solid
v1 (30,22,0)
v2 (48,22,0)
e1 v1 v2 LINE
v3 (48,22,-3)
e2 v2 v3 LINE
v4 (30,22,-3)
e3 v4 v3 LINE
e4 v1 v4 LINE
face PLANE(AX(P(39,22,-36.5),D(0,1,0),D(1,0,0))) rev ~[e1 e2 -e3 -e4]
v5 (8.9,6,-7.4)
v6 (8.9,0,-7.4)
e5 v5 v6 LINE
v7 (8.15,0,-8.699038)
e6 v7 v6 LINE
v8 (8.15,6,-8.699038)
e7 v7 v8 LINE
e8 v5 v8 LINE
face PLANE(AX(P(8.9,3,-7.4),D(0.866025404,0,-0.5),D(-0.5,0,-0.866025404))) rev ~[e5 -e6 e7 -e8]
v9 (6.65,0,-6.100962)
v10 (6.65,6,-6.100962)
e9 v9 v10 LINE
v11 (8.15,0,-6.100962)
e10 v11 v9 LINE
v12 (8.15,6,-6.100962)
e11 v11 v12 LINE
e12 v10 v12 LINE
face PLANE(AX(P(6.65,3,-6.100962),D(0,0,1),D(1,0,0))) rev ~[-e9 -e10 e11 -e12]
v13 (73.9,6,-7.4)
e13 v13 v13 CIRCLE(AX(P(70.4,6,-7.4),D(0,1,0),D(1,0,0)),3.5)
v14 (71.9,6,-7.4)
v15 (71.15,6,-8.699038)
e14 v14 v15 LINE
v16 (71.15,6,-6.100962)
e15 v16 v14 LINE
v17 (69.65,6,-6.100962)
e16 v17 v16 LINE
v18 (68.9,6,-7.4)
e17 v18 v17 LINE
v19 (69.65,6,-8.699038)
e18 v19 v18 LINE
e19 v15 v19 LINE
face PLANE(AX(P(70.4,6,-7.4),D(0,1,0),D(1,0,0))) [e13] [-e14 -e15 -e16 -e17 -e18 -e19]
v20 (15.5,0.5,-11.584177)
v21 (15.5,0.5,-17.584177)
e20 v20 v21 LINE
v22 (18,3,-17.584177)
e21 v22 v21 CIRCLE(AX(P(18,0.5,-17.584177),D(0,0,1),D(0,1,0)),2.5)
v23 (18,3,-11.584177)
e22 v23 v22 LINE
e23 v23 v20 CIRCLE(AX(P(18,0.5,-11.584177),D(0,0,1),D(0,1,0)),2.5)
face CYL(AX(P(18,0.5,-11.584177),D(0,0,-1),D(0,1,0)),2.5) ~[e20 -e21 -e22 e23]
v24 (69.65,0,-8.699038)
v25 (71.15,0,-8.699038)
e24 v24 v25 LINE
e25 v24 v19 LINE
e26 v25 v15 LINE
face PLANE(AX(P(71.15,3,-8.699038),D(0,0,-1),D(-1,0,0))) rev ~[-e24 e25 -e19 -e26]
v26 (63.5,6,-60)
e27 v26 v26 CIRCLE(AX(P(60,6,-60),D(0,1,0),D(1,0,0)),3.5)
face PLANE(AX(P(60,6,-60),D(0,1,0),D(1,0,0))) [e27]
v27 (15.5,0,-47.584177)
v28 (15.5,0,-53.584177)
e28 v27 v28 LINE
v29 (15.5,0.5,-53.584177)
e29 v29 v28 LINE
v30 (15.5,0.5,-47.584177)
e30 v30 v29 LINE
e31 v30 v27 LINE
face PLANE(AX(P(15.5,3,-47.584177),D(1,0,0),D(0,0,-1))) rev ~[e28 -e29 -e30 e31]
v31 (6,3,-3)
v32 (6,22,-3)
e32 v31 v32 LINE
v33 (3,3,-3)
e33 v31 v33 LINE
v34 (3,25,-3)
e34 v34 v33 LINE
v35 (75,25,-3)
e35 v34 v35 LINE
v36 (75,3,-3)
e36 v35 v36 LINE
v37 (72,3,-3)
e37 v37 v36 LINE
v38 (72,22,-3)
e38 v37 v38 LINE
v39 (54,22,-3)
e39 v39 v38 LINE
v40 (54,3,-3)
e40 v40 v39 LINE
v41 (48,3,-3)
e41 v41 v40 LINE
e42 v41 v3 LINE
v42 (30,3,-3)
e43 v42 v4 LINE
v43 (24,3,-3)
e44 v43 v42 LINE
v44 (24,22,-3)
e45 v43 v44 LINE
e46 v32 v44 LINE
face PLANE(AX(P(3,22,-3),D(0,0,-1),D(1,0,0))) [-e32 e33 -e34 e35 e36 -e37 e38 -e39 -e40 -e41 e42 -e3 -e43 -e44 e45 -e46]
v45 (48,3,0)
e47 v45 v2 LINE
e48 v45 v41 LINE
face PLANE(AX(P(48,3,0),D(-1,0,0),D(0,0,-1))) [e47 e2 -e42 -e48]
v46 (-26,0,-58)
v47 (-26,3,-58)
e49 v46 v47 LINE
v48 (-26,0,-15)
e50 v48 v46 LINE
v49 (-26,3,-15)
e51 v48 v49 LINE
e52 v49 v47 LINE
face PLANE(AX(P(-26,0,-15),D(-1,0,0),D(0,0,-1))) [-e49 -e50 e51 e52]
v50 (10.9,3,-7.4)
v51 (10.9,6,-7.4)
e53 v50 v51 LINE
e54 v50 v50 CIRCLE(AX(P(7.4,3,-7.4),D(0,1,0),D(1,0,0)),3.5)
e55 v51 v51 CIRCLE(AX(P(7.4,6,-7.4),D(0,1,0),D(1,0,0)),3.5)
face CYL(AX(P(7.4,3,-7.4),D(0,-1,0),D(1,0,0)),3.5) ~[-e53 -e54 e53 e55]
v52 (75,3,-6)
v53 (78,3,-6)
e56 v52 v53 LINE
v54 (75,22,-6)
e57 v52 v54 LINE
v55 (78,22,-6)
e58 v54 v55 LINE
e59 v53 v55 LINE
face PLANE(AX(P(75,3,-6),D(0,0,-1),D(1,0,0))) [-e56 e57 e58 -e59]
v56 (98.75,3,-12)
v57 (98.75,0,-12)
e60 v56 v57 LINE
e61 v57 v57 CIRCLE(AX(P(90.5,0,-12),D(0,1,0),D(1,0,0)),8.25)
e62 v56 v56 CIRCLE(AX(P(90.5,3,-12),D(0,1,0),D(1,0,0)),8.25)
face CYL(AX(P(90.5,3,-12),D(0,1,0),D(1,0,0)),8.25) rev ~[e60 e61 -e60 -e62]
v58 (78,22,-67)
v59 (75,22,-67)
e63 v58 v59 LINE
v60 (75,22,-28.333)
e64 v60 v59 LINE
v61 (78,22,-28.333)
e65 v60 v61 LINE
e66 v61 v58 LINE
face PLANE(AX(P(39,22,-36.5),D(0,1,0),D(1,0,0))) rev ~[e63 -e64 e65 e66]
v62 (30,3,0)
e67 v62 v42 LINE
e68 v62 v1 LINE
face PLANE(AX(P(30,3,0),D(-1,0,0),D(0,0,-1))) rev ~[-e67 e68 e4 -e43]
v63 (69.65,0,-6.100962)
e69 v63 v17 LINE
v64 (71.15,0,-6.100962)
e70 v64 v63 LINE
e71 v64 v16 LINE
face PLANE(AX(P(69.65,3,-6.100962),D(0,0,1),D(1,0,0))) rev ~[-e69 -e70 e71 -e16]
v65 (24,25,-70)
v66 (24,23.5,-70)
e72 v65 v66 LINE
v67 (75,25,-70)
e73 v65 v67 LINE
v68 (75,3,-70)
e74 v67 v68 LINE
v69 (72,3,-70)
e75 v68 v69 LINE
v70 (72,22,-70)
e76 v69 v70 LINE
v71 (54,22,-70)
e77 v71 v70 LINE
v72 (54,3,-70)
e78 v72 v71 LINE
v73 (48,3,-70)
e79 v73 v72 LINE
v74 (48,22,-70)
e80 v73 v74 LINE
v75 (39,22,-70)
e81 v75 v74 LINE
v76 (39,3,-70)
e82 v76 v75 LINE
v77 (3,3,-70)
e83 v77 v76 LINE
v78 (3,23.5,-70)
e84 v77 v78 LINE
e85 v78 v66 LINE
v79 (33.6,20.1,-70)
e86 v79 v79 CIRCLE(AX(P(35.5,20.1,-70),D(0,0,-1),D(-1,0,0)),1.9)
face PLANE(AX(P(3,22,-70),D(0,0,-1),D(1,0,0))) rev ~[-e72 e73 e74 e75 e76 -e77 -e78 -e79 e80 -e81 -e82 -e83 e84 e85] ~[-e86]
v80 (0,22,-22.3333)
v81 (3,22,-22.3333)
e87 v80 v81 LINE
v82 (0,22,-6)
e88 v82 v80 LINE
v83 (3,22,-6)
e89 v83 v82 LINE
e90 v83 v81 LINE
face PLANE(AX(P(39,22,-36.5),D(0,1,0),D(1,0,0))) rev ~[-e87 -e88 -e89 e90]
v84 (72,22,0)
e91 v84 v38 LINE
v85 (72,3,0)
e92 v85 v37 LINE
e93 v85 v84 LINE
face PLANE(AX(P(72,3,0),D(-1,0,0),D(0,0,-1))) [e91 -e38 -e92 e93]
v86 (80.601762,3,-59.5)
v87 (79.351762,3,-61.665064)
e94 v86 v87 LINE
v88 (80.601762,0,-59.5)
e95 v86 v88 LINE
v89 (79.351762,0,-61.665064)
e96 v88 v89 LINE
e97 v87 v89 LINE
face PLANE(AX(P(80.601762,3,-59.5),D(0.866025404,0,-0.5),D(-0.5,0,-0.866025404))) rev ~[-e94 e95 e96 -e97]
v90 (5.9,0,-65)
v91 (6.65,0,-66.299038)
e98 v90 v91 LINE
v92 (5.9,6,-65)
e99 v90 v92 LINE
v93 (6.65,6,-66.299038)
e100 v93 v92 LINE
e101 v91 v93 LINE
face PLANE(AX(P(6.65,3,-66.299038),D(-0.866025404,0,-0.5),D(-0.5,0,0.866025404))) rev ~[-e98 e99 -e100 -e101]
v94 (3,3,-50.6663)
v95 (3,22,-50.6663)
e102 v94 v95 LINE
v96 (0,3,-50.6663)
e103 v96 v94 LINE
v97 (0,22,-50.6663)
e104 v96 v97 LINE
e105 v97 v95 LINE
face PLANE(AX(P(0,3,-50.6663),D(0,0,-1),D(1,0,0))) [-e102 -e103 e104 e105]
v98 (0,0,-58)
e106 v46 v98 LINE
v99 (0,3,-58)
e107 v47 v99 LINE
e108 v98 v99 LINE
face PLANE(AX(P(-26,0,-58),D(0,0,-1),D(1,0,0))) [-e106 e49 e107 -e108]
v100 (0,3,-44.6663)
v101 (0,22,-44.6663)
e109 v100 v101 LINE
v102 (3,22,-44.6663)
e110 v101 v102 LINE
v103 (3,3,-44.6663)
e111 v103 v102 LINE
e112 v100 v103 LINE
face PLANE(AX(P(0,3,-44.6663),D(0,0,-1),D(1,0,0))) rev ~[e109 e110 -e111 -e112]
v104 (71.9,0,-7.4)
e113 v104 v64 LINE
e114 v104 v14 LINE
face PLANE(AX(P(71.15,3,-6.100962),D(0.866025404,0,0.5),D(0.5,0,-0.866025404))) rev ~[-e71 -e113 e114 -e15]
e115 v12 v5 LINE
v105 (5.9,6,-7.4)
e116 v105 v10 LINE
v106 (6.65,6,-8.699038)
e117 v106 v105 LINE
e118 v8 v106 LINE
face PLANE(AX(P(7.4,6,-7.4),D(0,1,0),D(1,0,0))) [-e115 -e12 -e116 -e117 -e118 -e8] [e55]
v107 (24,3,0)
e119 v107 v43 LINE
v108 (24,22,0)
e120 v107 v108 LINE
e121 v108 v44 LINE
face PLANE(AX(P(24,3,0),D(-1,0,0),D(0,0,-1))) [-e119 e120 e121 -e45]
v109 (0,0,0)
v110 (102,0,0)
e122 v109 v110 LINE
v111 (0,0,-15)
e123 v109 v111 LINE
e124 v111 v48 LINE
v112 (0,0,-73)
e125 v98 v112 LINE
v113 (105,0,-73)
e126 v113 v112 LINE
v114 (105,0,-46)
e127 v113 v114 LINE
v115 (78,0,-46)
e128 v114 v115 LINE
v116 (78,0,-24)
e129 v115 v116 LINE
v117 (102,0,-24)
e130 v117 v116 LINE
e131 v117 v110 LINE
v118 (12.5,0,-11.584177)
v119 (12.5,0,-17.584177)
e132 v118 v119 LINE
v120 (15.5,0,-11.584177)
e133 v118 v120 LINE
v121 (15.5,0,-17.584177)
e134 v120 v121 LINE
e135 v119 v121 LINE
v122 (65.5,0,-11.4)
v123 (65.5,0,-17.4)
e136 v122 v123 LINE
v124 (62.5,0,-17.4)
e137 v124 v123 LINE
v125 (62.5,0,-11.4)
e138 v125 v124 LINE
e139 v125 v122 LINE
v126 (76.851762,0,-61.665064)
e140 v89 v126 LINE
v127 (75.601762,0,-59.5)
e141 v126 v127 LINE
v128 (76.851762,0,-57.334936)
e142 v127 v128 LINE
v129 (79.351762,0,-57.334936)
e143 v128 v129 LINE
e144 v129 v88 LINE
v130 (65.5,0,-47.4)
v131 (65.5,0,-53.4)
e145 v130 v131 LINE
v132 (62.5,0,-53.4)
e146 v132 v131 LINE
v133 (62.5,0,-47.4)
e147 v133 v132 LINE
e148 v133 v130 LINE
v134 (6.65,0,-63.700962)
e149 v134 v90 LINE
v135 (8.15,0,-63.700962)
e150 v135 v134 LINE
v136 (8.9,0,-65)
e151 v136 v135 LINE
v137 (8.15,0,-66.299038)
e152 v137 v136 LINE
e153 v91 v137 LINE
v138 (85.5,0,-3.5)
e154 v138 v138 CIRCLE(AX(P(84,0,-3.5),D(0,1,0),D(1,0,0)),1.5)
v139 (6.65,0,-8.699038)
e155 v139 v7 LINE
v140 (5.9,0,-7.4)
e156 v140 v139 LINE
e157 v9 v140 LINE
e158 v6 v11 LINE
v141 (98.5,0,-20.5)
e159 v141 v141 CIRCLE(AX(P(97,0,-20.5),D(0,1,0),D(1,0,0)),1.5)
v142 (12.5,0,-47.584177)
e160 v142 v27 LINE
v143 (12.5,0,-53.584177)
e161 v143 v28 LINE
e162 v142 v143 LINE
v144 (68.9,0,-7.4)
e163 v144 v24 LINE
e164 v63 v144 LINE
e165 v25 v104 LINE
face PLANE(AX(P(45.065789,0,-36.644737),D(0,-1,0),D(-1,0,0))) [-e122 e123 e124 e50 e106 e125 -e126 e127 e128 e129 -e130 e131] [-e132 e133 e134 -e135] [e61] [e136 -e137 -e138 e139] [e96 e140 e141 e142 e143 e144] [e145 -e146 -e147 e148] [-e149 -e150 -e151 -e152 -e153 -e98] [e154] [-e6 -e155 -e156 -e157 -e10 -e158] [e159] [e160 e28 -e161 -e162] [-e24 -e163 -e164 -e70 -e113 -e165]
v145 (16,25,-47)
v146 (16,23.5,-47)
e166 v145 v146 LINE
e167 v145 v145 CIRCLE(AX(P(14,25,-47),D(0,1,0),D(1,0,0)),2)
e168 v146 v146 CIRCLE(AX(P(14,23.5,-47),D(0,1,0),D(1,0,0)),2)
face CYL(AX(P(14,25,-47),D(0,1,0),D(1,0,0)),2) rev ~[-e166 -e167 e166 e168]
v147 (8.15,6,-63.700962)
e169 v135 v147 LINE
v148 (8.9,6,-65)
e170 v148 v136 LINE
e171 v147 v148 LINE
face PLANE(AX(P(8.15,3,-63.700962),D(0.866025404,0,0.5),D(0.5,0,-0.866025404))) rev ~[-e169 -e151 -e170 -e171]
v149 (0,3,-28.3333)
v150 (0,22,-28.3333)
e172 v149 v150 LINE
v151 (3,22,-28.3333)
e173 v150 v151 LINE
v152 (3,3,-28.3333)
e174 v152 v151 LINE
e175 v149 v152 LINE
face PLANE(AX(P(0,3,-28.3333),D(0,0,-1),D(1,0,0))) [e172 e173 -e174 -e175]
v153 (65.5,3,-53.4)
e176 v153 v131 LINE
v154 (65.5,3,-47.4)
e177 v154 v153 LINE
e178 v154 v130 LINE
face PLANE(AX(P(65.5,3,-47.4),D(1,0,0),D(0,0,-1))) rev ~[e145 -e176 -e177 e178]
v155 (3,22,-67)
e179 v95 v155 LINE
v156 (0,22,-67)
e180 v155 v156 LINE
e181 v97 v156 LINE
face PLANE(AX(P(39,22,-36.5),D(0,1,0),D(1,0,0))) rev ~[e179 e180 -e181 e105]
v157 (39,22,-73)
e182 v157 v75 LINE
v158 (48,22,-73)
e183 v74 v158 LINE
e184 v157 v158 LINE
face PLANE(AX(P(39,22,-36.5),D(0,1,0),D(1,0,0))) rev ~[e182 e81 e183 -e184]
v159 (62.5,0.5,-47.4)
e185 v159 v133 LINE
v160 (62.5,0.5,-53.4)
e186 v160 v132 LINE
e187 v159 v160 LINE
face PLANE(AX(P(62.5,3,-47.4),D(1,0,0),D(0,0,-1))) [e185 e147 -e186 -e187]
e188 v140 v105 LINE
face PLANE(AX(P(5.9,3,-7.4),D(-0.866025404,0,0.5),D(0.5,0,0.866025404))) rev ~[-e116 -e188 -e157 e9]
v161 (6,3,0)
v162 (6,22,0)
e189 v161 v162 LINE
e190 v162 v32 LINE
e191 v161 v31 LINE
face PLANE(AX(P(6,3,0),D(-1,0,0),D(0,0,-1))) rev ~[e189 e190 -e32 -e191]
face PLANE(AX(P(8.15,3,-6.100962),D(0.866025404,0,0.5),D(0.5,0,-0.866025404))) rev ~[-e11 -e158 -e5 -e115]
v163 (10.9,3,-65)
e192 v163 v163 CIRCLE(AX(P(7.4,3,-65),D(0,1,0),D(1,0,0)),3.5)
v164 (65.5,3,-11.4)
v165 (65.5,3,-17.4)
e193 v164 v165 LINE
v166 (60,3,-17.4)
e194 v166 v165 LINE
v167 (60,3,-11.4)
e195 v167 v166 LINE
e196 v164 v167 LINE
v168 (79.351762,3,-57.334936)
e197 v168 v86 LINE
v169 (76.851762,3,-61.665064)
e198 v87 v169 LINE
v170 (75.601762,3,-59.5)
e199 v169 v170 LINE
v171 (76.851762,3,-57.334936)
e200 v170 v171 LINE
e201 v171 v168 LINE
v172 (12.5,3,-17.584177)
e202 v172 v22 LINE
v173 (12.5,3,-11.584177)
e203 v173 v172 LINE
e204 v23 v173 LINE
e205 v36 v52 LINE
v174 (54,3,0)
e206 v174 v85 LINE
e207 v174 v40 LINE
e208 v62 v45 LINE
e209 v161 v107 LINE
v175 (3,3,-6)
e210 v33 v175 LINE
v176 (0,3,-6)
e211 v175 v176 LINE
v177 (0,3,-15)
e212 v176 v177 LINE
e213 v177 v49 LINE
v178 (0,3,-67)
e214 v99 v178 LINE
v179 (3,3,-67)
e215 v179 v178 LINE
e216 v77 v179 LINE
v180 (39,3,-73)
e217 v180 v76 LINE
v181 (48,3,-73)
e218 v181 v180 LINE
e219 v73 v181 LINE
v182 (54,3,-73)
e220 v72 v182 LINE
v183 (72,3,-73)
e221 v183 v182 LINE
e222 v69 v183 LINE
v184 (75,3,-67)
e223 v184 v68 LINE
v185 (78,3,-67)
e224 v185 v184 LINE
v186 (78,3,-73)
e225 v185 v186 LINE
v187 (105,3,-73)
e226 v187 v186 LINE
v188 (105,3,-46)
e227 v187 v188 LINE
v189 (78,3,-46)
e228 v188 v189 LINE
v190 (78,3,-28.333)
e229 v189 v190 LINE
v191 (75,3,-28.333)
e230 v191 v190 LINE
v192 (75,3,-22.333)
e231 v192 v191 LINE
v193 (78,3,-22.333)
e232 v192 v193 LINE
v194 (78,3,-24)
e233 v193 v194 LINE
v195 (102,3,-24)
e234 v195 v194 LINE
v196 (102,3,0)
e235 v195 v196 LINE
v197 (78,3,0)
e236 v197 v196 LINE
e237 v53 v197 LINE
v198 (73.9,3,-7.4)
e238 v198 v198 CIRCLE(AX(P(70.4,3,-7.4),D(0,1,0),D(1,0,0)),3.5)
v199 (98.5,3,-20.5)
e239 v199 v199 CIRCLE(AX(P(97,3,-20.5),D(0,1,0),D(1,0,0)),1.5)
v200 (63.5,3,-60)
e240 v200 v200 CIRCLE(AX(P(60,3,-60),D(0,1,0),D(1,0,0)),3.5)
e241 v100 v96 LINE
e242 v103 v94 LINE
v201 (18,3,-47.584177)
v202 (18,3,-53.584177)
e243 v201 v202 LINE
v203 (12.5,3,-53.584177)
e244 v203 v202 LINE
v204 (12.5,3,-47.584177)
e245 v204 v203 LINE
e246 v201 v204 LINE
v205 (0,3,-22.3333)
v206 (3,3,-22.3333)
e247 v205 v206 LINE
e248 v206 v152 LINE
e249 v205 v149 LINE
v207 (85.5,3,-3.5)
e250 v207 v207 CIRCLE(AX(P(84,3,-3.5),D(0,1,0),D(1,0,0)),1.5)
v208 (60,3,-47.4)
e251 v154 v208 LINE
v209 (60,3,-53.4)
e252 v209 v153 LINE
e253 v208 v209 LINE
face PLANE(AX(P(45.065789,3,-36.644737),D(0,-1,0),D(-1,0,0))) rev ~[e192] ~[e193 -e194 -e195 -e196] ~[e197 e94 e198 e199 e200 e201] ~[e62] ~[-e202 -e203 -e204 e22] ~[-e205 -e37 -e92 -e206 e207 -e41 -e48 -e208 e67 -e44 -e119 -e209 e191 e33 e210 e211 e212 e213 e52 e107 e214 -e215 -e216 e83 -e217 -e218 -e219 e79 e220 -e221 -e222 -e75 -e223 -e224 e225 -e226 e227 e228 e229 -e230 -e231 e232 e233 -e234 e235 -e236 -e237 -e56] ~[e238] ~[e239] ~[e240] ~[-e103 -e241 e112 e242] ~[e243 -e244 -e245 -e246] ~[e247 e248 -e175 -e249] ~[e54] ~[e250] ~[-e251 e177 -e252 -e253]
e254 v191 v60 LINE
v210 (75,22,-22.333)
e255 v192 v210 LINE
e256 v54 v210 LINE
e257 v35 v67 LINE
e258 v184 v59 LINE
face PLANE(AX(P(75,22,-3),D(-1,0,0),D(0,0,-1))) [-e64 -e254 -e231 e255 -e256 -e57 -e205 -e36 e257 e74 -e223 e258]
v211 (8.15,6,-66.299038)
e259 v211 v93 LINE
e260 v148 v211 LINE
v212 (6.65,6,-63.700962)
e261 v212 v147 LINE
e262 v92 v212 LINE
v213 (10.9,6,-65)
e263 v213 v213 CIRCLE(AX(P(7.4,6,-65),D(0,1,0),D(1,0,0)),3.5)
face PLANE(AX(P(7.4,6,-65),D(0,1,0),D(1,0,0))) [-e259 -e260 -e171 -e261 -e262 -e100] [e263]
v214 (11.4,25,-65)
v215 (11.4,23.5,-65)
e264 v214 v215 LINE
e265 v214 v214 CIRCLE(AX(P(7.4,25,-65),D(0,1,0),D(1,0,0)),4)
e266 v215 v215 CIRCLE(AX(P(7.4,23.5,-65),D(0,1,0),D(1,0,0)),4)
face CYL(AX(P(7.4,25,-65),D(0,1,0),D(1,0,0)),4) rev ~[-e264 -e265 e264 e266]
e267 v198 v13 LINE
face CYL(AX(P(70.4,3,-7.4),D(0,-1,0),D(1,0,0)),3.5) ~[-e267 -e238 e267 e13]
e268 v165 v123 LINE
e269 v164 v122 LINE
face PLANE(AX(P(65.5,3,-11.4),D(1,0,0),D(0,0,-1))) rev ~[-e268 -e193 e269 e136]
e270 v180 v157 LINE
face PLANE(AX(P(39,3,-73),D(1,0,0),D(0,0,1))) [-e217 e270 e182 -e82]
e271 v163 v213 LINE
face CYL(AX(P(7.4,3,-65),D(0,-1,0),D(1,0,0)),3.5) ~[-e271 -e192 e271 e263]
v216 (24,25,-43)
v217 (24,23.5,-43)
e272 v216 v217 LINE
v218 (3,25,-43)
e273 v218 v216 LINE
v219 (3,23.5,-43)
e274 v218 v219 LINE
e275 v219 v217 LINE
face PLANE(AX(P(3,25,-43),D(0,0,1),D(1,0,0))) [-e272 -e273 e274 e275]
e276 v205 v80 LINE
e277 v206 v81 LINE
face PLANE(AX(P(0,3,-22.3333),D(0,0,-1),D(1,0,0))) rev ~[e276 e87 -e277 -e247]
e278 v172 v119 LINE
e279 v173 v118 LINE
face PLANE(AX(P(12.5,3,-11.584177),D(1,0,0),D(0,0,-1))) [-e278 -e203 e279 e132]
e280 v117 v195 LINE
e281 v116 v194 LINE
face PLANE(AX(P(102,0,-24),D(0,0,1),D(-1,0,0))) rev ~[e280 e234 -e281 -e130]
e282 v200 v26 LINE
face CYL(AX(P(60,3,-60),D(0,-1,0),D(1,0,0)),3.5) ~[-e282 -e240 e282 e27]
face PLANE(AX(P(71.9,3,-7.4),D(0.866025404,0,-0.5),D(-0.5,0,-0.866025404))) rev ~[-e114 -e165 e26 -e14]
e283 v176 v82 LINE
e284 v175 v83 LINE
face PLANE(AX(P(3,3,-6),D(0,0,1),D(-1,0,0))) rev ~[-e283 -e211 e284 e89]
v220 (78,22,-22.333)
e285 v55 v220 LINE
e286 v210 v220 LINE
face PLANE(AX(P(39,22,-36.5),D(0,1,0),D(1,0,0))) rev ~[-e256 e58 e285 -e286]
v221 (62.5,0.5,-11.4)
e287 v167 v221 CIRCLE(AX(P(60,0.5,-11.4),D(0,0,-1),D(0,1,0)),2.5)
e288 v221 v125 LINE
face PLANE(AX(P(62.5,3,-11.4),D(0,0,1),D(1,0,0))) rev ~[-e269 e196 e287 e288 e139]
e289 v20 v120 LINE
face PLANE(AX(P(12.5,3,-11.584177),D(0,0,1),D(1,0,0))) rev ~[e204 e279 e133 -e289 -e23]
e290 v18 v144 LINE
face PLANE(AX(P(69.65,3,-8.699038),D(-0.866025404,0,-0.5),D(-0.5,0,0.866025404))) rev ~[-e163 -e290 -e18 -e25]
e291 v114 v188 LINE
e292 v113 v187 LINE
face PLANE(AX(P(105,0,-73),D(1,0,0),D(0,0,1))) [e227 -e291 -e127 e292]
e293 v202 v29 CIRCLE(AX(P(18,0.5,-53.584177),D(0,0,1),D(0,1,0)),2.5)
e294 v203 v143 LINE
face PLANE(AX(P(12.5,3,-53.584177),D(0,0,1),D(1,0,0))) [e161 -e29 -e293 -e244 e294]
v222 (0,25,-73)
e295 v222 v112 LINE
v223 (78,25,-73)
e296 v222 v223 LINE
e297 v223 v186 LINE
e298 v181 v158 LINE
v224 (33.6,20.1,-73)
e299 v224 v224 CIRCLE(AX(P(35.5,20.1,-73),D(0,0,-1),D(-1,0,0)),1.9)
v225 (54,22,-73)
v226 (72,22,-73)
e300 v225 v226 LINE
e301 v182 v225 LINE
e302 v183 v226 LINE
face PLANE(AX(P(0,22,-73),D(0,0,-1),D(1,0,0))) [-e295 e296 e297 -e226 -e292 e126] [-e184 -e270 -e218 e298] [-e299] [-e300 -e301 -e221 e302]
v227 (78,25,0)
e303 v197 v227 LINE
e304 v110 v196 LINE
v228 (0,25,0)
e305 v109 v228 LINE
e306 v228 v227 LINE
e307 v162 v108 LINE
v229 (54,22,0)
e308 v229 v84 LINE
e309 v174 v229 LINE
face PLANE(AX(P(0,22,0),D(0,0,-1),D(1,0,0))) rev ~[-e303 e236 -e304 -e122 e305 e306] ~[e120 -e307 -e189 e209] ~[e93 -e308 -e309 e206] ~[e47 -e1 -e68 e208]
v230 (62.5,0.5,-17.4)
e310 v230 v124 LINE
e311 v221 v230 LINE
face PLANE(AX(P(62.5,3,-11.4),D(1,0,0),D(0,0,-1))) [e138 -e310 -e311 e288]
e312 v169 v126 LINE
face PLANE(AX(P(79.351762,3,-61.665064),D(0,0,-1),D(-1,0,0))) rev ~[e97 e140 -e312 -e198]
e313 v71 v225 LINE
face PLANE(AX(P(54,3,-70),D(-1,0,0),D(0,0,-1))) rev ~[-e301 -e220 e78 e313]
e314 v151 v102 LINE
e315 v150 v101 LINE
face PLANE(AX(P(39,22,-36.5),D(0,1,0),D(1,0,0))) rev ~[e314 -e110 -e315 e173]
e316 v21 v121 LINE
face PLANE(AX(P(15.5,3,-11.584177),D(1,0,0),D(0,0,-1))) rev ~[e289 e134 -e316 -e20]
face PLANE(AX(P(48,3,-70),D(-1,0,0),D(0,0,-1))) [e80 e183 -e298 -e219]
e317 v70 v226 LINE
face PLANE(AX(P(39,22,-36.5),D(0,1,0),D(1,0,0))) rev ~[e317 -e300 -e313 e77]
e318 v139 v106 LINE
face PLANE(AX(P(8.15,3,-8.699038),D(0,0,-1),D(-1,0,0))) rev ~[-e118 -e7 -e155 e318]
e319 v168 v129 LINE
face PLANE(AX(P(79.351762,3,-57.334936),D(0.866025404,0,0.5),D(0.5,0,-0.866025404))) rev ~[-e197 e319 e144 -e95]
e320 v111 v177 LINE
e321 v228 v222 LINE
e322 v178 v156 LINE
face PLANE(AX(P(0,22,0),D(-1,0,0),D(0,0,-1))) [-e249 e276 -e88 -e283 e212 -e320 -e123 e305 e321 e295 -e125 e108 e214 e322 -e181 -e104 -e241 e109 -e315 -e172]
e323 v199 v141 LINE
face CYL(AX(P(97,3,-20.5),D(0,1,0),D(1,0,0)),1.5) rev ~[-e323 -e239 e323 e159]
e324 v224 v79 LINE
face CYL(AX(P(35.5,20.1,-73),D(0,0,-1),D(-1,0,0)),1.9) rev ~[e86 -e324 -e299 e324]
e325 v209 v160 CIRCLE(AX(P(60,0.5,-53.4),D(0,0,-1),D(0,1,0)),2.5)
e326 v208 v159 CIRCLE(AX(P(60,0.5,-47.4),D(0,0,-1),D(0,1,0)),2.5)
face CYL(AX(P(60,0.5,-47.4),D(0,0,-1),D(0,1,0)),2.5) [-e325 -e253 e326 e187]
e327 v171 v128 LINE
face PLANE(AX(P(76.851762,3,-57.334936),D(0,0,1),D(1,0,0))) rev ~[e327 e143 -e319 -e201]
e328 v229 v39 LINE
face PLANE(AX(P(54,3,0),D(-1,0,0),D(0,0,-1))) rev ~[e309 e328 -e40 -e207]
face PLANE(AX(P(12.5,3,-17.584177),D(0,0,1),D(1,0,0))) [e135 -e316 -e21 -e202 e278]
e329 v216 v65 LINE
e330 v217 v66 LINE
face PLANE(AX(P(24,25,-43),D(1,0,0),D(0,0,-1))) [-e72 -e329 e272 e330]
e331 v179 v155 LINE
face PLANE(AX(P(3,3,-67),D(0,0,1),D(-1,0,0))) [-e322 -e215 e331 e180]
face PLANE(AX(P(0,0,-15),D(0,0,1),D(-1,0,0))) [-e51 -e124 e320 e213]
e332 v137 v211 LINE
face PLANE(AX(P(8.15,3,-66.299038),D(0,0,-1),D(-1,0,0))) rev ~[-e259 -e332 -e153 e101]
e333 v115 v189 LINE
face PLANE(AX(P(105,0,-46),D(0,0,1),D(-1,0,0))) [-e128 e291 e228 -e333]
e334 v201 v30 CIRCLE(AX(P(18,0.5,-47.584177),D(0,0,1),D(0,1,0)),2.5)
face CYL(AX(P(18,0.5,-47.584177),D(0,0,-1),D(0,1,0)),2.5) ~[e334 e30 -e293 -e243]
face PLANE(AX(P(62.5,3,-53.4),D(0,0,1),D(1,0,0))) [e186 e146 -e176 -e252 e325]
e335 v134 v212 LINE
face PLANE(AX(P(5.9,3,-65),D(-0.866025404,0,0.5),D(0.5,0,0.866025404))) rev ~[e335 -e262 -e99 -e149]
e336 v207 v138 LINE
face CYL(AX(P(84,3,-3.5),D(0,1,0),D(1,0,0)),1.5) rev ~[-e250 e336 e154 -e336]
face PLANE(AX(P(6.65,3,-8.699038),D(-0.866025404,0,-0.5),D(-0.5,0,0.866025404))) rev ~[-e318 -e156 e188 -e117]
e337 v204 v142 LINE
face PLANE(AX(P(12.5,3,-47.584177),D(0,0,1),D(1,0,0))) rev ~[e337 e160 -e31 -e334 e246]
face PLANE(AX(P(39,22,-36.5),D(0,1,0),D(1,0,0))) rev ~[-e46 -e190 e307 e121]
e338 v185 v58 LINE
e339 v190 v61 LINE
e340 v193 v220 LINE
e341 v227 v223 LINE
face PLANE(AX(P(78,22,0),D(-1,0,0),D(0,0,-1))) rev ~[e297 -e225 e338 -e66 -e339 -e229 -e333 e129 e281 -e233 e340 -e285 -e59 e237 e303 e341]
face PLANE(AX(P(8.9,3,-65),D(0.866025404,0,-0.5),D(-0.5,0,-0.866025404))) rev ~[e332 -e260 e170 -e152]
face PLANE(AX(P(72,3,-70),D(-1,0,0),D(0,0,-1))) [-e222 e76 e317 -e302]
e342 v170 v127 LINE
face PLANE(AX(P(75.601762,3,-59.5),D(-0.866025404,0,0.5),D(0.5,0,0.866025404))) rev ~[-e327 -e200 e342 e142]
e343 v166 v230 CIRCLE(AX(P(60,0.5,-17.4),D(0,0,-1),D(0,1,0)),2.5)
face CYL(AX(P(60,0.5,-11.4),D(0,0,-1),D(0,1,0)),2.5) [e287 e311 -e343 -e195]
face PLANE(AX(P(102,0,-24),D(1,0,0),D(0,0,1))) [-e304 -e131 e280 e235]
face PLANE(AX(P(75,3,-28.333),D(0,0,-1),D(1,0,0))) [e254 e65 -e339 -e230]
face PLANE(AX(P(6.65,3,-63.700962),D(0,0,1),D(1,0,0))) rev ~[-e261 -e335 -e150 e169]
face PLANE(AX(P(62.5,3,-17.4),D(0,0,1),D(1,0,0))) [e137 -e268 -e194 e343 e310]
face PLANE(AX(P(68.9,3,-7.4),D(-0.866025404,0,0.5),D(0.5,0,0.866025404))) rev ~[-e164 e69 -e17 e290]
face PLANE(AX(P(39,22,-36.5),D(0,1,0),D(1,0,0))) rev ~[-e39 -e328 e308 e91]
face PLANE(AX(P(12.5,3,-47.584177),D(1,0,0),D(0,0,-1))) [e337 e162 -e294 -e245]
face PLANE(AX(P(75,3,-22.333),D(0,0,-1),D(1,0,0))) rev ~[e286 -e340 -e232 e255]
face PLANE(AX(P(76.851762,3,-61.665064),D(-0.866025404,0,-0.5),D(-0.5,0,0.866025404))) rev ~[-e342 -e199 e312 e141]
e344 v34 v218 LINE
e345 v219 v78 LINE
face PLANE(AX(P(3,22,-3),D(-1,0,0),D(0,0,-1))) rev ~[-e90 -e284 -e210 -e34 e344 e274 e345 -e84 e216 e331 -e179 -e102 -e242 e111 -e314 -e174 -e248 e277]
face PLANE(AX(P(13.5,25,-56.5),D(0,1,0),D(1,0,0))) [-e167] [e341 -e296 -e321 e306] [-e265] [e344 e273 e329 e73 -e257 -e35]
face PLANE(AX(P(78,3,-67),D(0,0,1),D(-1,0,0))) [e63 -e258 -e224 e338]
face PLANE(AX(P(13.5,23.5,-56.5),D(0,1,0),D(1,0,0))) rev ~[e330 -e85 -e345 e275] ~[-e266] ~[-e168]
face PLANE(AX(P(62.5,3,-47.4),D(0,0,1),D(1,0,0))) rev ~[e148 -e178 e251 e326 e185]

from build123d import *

# Parameters (mm, degrees)
BOSS_EXTRUDE1_DEPTH = 3
SKETCH2_W           = 3
SKETCH2_H           = 6
SKETCH2_W_2         = 6
SKETCH2_H_2         = 3
BOSS_EXTRUDE2_DEPTH = 19
SKETCH3_W           = 78
SKETCH3_H           = 73
SKETCH3_W_2         = 72
SKETCH3_H_2         = 67
BOSS_EXTRUDE3_DEPTH = 3
SKETCH4_R           = 3.5
BOSS_EXTRUDE4_DEPTH = 3
CUT_EXTRUDE1_DEPTH  = 130.761319352
CUT_EXTRUDE2_DEPTH  = 3
SKETCH7_R           = 1.9
CUT_EXTRUDE3_DEPTH  = 3
SKETCH8_W           = 21
SKETCH8_H           = 27
SKETCH8_R           = 2
SKETCH8_R_2         = 4
BOSS_EXTRUDE5_DEPTH = 1.5
SKETCH9_R           = 1.5
SKETCH9_R_2         = 8.25
CUT_EXTRUDE4_DEPTH  = 3
SKETCH10_W          = 3
SKETCH10_H          = 6
CUT_EXTRUDE5_DEPTH  = 3
FILLET1_R           = 2.5


with BuildPart() as part:
    # Sketch1 → Boss-Extrude1 (new body)
    with BuildSketch(Plane(origin=(0, 0, 0), x_dir=(1, 0, 0), z_dir=(0, 1, 0))):
        Polygon((100, 24), (102, 24), (102, 0), (100, 0), (78, 0), (0, 0), (0, 15), (-26, 15), (-26, 58), (0, 58), (0, 73), (78, 73), (105, 73), (105, 46), (78, 46), (78, 24), align=None)
    extrude(amount=BOSS_EXTRUDE1_DEPTH)

    # Sketch2 → Boss-Extrude2 (add)
    with BuildSketch(Plane(origin=(0, 3, 0), x_dir=(1, 0, 0), z_dir=(0, 1, 0))):
        Polygon((0, 0), (3, 0), (6, 0), (6, 3), (3, 3), (3, 6), (0, 6), align=None)
        Polygon((78, 0), (75, 0), (72, 0), (72, 3), (75, 3), (75, 6), (78, 6), align=None)
        with Locations((1.5, 25.3333)):
            Rectangle(SKETCH2_W, SKETCH2_H)
        with Locations((1.5, 47.6663)):
            Rectangle(SKETCH2_W, SKETCH2_H)
        Polygon((0, 73), (3, 73), (6, 73), (36, 73), (39, 73), (39, 70), (36, 70), (17, 70), (3, 70), (3, 67), (0, 67), align=None)
        with Locations((27, 1.5)):
            Rectangle(SKETCH2_W_2, SKETCH2_H_2)
        with Locations((51, 1.5)):
            Rectangle(SKETCH2_W_2, SKETCH2_H_2)
        with Locations((76.5, 25.333)):
            Rectangle(SKETCH2_W, SKETCH2_H)
        Polygon((72, 73), (78, 73), (78, 70), (78, 67), (75, 67), (75, 70), (72, 70), align=None)
        with Locations((51, 71.5)):
            Rectangle(SKETCH2_W_2, SKETCH2_H_2)
    extrude(amount=BOSS_EXTRUDE2_DEPTH)

    # Sketch3 → Boss-Extrude3 (add)
    with BuildSketch(Plane(origin=(0, 22, 0), x_dir=(1, 0, 0), z_dir=(0, 1, 0))):
        with Locations((39, 36.5)):
            Rectangle(SKETCH3_W, SKETCH3_H)
        with Locations((39, 36.5)):
            Rectangle(SKETCH3_W_2, SKETCH3_H_2, mode=Mode.SUBTRACT)
    extrude(amount=BOSS_EXTRUDE3_DEPTH)

    # Sketch4 → Boss-Extrude4 (add)
    # profile 1 of 4: a face of its own
    with BuildSketch(Plane(origin=(0, 3, 0), x_dir=(1, 0, 0), z_dir=(0, 1, 0))):
        with Locations((7.4, 65)):
            Circle(SKETCH4_R)
        Polygon((8.9, 65), (8.15, 66.299038106), (6.65, 66.299038106), (5.9, 65), (6.65, 63.700961894), (8.15, 63.700961894), align=None, mode=Mode.SUBTRACT)
    # profile 2 of 4: a face of its own
    with BuildSketch(Plane(origin=(0, 3, 0), x_dir=(1, 0, 0), z_dir=(0, 1, 0))):
        with Locations((7.4, 7.4)):
            Circle(SKETCH4_R)
        Polygon((8.9, 7.4), (8.15, 8.699038106), (6.65, 8.699038106), (5.9, 7.4), (6.65, 6.100961894), (8.15, 6.100961894), align=None, mode=Mode.SUBTRACT)
    # profile 3 of 4: a face of its own
    with BuildSketch(Plane(origin=(0, 3, 0), x_dir=(1, 0, 0), z_dir=(0, 1, 0))):
        with Locations((70.4, 7.4)):
            Circle(SKETCH4_R)
        Polygon((68.9, 7.4), (69.65, 6.100961894), (71.15, 6.100961894), (71.9, 7.4), (71.15, 8.699038106), (69.65, 8.699038106), align=None, mode=Mode.SUBTRACT)
    # profile 4 of 4: a face of its own
    with BuildSketch(Plane(origin=(0, 3, 0), x_dir=(1, 0, 0), z_dir=(0, 1, 0))):
        with Locations((60, 60)):
            Circle(SKETCH4_R)
    extrude(amount=BOSS_EXTRUDE4_DEPTH)

    # Sketch4<2> → Cut-Extrude1 (cut, through all)
    with BuildSketch(Plane(origin=(0, 3, 0), x_dir=(1, 0, 0), z_dir=(0, 1, 0))):
        Polygon((8.15, 63.700961894), (8.9, 65), (8.15, 66.299038106), (6.65, 66.299038106), (5.9, 65), (6.65, 63.700961894), align=None)
        Polygon((8.15, 6.100961894), (8.9, 7.4), (8.15, 8.699038106), (6.65, 8.699038106), (5.9, 7.4), (6.65, 6.100961894), align=None)
        Polygon((69.65, 8.699038106), (68.9, 7.4), (69.65, 6.100961894), (71.15, 6.100961894), (71.9, 7.4), (71.15, 8.699038106), align=None)
    extrude(amount=-CUT_EXTRUDE1_DEPTH, mode=Mode.SUBTRACT)

    # Sketch5 → Cut-Extrude2 (cut)
    with BuildSketch(Plane(origin=(0, 3, 0), x_dir=(1, 0, 0), z_dir=(0, 1, 0))):
        Polygon((80.601762475, 59.5), (79.351762475, 61.665063509), (76.851762475, 61.665063509), (75.601762475, 59.5), (76.851762475, 57.334936491), (79.351762475, 57.334936491), align=None)
    extrude(amount=-CUT_EXTRUDE2_DEPTH, mode=Mode.SUBTRACT)

    # Sketch7 → Cut-Extrude3 (cut)
    with BuildSketch(Plane(origin=(0, 0, -73), x_dir=(-1, 0, 0), z_dir=(0, 0, -1))):
        with Locations((-35.5, 20.1)):
            Circle(SKETCH7_R)
    extrude(amount=-CUT_EXTRUDE3_DEPTH, mode=Mode.SUBTRACT)

    # Sketch8 → Boss-Extrude5 (add)
    with BuildSketch(Plane(origin=(0, 25, 0), x_dir=(1, 0, 0), z_dir=(0, 1, 0))):
        with Locations((13.5, 56.5)):
            Rectangle(SKETCH8_W, SKETCH8_H)
        with Locations((14, 47)):
            Circle(SKETCH8_R, mode=Mode.SUBTRACT)
        with Locations((7.4, 65)):
            Circle(SKETCH8_R_2, mode=Mode.SUBTRACT)
    extrude(amount=-BOSS_EXTRUDE5_DEPTH)

    # Sketch9 → Cut-Extrude4 (cut)
    with BuildSketch(Plane(origin=(0, 3, 0), x_dir=(1, 0, 0), z_dir=(0, 1, 0))):
        with Locations((97, 20.5)):
            Circle(SKETCH9_R)
        with Locations((84, 3.5)):
            Circle(SKETCH9_R)
        with Locations((90.5, 12)):
            Circle(SKETCH9_R_2)
    extrude(amount=-CUT_EXTRUDE4_DEPTH, mode=Mode.SUBTRACT)

    # Sketch10 → Cut-Extrude5 (cut)
    with BuildSketch(Plane(origin=(0, 3, 0), x_dir=(1, 0, 0), z_dir=(0, 1, 0))):
        with Locations((64, 14.4)):
            Rectangle(SKETCH10_W, SKETCH10_H)
        with Locations((64, 50.4)):
            Rectangle(SKETCH10_W, SKETCH10_H)
        with Locations((14, 14.584176744)):
            Rectangle(SKETCH10_W, SKETCH10_H)
        with Locations((14, 50.584176744)):
            Rectangle(SKETCH10_W, SKETCH10_H)
    extrude(amount=-CUT_EXTRUDE5_DEPTH, mode=Mode.SUBTRACT)

    # Fillet1
    fillet1_edges = [part.edges().sort_by_distance(p)[0] for p in [
        (15.5, 3, -50.584176744),
        (62.5, 3, -50.4),
        (62.5, 3, -14.4),
        (15.5, 3, -14.584176744),
    ]]
    fillet(fillet1_edges, radius=FILLET1_R)


solid = part.part
